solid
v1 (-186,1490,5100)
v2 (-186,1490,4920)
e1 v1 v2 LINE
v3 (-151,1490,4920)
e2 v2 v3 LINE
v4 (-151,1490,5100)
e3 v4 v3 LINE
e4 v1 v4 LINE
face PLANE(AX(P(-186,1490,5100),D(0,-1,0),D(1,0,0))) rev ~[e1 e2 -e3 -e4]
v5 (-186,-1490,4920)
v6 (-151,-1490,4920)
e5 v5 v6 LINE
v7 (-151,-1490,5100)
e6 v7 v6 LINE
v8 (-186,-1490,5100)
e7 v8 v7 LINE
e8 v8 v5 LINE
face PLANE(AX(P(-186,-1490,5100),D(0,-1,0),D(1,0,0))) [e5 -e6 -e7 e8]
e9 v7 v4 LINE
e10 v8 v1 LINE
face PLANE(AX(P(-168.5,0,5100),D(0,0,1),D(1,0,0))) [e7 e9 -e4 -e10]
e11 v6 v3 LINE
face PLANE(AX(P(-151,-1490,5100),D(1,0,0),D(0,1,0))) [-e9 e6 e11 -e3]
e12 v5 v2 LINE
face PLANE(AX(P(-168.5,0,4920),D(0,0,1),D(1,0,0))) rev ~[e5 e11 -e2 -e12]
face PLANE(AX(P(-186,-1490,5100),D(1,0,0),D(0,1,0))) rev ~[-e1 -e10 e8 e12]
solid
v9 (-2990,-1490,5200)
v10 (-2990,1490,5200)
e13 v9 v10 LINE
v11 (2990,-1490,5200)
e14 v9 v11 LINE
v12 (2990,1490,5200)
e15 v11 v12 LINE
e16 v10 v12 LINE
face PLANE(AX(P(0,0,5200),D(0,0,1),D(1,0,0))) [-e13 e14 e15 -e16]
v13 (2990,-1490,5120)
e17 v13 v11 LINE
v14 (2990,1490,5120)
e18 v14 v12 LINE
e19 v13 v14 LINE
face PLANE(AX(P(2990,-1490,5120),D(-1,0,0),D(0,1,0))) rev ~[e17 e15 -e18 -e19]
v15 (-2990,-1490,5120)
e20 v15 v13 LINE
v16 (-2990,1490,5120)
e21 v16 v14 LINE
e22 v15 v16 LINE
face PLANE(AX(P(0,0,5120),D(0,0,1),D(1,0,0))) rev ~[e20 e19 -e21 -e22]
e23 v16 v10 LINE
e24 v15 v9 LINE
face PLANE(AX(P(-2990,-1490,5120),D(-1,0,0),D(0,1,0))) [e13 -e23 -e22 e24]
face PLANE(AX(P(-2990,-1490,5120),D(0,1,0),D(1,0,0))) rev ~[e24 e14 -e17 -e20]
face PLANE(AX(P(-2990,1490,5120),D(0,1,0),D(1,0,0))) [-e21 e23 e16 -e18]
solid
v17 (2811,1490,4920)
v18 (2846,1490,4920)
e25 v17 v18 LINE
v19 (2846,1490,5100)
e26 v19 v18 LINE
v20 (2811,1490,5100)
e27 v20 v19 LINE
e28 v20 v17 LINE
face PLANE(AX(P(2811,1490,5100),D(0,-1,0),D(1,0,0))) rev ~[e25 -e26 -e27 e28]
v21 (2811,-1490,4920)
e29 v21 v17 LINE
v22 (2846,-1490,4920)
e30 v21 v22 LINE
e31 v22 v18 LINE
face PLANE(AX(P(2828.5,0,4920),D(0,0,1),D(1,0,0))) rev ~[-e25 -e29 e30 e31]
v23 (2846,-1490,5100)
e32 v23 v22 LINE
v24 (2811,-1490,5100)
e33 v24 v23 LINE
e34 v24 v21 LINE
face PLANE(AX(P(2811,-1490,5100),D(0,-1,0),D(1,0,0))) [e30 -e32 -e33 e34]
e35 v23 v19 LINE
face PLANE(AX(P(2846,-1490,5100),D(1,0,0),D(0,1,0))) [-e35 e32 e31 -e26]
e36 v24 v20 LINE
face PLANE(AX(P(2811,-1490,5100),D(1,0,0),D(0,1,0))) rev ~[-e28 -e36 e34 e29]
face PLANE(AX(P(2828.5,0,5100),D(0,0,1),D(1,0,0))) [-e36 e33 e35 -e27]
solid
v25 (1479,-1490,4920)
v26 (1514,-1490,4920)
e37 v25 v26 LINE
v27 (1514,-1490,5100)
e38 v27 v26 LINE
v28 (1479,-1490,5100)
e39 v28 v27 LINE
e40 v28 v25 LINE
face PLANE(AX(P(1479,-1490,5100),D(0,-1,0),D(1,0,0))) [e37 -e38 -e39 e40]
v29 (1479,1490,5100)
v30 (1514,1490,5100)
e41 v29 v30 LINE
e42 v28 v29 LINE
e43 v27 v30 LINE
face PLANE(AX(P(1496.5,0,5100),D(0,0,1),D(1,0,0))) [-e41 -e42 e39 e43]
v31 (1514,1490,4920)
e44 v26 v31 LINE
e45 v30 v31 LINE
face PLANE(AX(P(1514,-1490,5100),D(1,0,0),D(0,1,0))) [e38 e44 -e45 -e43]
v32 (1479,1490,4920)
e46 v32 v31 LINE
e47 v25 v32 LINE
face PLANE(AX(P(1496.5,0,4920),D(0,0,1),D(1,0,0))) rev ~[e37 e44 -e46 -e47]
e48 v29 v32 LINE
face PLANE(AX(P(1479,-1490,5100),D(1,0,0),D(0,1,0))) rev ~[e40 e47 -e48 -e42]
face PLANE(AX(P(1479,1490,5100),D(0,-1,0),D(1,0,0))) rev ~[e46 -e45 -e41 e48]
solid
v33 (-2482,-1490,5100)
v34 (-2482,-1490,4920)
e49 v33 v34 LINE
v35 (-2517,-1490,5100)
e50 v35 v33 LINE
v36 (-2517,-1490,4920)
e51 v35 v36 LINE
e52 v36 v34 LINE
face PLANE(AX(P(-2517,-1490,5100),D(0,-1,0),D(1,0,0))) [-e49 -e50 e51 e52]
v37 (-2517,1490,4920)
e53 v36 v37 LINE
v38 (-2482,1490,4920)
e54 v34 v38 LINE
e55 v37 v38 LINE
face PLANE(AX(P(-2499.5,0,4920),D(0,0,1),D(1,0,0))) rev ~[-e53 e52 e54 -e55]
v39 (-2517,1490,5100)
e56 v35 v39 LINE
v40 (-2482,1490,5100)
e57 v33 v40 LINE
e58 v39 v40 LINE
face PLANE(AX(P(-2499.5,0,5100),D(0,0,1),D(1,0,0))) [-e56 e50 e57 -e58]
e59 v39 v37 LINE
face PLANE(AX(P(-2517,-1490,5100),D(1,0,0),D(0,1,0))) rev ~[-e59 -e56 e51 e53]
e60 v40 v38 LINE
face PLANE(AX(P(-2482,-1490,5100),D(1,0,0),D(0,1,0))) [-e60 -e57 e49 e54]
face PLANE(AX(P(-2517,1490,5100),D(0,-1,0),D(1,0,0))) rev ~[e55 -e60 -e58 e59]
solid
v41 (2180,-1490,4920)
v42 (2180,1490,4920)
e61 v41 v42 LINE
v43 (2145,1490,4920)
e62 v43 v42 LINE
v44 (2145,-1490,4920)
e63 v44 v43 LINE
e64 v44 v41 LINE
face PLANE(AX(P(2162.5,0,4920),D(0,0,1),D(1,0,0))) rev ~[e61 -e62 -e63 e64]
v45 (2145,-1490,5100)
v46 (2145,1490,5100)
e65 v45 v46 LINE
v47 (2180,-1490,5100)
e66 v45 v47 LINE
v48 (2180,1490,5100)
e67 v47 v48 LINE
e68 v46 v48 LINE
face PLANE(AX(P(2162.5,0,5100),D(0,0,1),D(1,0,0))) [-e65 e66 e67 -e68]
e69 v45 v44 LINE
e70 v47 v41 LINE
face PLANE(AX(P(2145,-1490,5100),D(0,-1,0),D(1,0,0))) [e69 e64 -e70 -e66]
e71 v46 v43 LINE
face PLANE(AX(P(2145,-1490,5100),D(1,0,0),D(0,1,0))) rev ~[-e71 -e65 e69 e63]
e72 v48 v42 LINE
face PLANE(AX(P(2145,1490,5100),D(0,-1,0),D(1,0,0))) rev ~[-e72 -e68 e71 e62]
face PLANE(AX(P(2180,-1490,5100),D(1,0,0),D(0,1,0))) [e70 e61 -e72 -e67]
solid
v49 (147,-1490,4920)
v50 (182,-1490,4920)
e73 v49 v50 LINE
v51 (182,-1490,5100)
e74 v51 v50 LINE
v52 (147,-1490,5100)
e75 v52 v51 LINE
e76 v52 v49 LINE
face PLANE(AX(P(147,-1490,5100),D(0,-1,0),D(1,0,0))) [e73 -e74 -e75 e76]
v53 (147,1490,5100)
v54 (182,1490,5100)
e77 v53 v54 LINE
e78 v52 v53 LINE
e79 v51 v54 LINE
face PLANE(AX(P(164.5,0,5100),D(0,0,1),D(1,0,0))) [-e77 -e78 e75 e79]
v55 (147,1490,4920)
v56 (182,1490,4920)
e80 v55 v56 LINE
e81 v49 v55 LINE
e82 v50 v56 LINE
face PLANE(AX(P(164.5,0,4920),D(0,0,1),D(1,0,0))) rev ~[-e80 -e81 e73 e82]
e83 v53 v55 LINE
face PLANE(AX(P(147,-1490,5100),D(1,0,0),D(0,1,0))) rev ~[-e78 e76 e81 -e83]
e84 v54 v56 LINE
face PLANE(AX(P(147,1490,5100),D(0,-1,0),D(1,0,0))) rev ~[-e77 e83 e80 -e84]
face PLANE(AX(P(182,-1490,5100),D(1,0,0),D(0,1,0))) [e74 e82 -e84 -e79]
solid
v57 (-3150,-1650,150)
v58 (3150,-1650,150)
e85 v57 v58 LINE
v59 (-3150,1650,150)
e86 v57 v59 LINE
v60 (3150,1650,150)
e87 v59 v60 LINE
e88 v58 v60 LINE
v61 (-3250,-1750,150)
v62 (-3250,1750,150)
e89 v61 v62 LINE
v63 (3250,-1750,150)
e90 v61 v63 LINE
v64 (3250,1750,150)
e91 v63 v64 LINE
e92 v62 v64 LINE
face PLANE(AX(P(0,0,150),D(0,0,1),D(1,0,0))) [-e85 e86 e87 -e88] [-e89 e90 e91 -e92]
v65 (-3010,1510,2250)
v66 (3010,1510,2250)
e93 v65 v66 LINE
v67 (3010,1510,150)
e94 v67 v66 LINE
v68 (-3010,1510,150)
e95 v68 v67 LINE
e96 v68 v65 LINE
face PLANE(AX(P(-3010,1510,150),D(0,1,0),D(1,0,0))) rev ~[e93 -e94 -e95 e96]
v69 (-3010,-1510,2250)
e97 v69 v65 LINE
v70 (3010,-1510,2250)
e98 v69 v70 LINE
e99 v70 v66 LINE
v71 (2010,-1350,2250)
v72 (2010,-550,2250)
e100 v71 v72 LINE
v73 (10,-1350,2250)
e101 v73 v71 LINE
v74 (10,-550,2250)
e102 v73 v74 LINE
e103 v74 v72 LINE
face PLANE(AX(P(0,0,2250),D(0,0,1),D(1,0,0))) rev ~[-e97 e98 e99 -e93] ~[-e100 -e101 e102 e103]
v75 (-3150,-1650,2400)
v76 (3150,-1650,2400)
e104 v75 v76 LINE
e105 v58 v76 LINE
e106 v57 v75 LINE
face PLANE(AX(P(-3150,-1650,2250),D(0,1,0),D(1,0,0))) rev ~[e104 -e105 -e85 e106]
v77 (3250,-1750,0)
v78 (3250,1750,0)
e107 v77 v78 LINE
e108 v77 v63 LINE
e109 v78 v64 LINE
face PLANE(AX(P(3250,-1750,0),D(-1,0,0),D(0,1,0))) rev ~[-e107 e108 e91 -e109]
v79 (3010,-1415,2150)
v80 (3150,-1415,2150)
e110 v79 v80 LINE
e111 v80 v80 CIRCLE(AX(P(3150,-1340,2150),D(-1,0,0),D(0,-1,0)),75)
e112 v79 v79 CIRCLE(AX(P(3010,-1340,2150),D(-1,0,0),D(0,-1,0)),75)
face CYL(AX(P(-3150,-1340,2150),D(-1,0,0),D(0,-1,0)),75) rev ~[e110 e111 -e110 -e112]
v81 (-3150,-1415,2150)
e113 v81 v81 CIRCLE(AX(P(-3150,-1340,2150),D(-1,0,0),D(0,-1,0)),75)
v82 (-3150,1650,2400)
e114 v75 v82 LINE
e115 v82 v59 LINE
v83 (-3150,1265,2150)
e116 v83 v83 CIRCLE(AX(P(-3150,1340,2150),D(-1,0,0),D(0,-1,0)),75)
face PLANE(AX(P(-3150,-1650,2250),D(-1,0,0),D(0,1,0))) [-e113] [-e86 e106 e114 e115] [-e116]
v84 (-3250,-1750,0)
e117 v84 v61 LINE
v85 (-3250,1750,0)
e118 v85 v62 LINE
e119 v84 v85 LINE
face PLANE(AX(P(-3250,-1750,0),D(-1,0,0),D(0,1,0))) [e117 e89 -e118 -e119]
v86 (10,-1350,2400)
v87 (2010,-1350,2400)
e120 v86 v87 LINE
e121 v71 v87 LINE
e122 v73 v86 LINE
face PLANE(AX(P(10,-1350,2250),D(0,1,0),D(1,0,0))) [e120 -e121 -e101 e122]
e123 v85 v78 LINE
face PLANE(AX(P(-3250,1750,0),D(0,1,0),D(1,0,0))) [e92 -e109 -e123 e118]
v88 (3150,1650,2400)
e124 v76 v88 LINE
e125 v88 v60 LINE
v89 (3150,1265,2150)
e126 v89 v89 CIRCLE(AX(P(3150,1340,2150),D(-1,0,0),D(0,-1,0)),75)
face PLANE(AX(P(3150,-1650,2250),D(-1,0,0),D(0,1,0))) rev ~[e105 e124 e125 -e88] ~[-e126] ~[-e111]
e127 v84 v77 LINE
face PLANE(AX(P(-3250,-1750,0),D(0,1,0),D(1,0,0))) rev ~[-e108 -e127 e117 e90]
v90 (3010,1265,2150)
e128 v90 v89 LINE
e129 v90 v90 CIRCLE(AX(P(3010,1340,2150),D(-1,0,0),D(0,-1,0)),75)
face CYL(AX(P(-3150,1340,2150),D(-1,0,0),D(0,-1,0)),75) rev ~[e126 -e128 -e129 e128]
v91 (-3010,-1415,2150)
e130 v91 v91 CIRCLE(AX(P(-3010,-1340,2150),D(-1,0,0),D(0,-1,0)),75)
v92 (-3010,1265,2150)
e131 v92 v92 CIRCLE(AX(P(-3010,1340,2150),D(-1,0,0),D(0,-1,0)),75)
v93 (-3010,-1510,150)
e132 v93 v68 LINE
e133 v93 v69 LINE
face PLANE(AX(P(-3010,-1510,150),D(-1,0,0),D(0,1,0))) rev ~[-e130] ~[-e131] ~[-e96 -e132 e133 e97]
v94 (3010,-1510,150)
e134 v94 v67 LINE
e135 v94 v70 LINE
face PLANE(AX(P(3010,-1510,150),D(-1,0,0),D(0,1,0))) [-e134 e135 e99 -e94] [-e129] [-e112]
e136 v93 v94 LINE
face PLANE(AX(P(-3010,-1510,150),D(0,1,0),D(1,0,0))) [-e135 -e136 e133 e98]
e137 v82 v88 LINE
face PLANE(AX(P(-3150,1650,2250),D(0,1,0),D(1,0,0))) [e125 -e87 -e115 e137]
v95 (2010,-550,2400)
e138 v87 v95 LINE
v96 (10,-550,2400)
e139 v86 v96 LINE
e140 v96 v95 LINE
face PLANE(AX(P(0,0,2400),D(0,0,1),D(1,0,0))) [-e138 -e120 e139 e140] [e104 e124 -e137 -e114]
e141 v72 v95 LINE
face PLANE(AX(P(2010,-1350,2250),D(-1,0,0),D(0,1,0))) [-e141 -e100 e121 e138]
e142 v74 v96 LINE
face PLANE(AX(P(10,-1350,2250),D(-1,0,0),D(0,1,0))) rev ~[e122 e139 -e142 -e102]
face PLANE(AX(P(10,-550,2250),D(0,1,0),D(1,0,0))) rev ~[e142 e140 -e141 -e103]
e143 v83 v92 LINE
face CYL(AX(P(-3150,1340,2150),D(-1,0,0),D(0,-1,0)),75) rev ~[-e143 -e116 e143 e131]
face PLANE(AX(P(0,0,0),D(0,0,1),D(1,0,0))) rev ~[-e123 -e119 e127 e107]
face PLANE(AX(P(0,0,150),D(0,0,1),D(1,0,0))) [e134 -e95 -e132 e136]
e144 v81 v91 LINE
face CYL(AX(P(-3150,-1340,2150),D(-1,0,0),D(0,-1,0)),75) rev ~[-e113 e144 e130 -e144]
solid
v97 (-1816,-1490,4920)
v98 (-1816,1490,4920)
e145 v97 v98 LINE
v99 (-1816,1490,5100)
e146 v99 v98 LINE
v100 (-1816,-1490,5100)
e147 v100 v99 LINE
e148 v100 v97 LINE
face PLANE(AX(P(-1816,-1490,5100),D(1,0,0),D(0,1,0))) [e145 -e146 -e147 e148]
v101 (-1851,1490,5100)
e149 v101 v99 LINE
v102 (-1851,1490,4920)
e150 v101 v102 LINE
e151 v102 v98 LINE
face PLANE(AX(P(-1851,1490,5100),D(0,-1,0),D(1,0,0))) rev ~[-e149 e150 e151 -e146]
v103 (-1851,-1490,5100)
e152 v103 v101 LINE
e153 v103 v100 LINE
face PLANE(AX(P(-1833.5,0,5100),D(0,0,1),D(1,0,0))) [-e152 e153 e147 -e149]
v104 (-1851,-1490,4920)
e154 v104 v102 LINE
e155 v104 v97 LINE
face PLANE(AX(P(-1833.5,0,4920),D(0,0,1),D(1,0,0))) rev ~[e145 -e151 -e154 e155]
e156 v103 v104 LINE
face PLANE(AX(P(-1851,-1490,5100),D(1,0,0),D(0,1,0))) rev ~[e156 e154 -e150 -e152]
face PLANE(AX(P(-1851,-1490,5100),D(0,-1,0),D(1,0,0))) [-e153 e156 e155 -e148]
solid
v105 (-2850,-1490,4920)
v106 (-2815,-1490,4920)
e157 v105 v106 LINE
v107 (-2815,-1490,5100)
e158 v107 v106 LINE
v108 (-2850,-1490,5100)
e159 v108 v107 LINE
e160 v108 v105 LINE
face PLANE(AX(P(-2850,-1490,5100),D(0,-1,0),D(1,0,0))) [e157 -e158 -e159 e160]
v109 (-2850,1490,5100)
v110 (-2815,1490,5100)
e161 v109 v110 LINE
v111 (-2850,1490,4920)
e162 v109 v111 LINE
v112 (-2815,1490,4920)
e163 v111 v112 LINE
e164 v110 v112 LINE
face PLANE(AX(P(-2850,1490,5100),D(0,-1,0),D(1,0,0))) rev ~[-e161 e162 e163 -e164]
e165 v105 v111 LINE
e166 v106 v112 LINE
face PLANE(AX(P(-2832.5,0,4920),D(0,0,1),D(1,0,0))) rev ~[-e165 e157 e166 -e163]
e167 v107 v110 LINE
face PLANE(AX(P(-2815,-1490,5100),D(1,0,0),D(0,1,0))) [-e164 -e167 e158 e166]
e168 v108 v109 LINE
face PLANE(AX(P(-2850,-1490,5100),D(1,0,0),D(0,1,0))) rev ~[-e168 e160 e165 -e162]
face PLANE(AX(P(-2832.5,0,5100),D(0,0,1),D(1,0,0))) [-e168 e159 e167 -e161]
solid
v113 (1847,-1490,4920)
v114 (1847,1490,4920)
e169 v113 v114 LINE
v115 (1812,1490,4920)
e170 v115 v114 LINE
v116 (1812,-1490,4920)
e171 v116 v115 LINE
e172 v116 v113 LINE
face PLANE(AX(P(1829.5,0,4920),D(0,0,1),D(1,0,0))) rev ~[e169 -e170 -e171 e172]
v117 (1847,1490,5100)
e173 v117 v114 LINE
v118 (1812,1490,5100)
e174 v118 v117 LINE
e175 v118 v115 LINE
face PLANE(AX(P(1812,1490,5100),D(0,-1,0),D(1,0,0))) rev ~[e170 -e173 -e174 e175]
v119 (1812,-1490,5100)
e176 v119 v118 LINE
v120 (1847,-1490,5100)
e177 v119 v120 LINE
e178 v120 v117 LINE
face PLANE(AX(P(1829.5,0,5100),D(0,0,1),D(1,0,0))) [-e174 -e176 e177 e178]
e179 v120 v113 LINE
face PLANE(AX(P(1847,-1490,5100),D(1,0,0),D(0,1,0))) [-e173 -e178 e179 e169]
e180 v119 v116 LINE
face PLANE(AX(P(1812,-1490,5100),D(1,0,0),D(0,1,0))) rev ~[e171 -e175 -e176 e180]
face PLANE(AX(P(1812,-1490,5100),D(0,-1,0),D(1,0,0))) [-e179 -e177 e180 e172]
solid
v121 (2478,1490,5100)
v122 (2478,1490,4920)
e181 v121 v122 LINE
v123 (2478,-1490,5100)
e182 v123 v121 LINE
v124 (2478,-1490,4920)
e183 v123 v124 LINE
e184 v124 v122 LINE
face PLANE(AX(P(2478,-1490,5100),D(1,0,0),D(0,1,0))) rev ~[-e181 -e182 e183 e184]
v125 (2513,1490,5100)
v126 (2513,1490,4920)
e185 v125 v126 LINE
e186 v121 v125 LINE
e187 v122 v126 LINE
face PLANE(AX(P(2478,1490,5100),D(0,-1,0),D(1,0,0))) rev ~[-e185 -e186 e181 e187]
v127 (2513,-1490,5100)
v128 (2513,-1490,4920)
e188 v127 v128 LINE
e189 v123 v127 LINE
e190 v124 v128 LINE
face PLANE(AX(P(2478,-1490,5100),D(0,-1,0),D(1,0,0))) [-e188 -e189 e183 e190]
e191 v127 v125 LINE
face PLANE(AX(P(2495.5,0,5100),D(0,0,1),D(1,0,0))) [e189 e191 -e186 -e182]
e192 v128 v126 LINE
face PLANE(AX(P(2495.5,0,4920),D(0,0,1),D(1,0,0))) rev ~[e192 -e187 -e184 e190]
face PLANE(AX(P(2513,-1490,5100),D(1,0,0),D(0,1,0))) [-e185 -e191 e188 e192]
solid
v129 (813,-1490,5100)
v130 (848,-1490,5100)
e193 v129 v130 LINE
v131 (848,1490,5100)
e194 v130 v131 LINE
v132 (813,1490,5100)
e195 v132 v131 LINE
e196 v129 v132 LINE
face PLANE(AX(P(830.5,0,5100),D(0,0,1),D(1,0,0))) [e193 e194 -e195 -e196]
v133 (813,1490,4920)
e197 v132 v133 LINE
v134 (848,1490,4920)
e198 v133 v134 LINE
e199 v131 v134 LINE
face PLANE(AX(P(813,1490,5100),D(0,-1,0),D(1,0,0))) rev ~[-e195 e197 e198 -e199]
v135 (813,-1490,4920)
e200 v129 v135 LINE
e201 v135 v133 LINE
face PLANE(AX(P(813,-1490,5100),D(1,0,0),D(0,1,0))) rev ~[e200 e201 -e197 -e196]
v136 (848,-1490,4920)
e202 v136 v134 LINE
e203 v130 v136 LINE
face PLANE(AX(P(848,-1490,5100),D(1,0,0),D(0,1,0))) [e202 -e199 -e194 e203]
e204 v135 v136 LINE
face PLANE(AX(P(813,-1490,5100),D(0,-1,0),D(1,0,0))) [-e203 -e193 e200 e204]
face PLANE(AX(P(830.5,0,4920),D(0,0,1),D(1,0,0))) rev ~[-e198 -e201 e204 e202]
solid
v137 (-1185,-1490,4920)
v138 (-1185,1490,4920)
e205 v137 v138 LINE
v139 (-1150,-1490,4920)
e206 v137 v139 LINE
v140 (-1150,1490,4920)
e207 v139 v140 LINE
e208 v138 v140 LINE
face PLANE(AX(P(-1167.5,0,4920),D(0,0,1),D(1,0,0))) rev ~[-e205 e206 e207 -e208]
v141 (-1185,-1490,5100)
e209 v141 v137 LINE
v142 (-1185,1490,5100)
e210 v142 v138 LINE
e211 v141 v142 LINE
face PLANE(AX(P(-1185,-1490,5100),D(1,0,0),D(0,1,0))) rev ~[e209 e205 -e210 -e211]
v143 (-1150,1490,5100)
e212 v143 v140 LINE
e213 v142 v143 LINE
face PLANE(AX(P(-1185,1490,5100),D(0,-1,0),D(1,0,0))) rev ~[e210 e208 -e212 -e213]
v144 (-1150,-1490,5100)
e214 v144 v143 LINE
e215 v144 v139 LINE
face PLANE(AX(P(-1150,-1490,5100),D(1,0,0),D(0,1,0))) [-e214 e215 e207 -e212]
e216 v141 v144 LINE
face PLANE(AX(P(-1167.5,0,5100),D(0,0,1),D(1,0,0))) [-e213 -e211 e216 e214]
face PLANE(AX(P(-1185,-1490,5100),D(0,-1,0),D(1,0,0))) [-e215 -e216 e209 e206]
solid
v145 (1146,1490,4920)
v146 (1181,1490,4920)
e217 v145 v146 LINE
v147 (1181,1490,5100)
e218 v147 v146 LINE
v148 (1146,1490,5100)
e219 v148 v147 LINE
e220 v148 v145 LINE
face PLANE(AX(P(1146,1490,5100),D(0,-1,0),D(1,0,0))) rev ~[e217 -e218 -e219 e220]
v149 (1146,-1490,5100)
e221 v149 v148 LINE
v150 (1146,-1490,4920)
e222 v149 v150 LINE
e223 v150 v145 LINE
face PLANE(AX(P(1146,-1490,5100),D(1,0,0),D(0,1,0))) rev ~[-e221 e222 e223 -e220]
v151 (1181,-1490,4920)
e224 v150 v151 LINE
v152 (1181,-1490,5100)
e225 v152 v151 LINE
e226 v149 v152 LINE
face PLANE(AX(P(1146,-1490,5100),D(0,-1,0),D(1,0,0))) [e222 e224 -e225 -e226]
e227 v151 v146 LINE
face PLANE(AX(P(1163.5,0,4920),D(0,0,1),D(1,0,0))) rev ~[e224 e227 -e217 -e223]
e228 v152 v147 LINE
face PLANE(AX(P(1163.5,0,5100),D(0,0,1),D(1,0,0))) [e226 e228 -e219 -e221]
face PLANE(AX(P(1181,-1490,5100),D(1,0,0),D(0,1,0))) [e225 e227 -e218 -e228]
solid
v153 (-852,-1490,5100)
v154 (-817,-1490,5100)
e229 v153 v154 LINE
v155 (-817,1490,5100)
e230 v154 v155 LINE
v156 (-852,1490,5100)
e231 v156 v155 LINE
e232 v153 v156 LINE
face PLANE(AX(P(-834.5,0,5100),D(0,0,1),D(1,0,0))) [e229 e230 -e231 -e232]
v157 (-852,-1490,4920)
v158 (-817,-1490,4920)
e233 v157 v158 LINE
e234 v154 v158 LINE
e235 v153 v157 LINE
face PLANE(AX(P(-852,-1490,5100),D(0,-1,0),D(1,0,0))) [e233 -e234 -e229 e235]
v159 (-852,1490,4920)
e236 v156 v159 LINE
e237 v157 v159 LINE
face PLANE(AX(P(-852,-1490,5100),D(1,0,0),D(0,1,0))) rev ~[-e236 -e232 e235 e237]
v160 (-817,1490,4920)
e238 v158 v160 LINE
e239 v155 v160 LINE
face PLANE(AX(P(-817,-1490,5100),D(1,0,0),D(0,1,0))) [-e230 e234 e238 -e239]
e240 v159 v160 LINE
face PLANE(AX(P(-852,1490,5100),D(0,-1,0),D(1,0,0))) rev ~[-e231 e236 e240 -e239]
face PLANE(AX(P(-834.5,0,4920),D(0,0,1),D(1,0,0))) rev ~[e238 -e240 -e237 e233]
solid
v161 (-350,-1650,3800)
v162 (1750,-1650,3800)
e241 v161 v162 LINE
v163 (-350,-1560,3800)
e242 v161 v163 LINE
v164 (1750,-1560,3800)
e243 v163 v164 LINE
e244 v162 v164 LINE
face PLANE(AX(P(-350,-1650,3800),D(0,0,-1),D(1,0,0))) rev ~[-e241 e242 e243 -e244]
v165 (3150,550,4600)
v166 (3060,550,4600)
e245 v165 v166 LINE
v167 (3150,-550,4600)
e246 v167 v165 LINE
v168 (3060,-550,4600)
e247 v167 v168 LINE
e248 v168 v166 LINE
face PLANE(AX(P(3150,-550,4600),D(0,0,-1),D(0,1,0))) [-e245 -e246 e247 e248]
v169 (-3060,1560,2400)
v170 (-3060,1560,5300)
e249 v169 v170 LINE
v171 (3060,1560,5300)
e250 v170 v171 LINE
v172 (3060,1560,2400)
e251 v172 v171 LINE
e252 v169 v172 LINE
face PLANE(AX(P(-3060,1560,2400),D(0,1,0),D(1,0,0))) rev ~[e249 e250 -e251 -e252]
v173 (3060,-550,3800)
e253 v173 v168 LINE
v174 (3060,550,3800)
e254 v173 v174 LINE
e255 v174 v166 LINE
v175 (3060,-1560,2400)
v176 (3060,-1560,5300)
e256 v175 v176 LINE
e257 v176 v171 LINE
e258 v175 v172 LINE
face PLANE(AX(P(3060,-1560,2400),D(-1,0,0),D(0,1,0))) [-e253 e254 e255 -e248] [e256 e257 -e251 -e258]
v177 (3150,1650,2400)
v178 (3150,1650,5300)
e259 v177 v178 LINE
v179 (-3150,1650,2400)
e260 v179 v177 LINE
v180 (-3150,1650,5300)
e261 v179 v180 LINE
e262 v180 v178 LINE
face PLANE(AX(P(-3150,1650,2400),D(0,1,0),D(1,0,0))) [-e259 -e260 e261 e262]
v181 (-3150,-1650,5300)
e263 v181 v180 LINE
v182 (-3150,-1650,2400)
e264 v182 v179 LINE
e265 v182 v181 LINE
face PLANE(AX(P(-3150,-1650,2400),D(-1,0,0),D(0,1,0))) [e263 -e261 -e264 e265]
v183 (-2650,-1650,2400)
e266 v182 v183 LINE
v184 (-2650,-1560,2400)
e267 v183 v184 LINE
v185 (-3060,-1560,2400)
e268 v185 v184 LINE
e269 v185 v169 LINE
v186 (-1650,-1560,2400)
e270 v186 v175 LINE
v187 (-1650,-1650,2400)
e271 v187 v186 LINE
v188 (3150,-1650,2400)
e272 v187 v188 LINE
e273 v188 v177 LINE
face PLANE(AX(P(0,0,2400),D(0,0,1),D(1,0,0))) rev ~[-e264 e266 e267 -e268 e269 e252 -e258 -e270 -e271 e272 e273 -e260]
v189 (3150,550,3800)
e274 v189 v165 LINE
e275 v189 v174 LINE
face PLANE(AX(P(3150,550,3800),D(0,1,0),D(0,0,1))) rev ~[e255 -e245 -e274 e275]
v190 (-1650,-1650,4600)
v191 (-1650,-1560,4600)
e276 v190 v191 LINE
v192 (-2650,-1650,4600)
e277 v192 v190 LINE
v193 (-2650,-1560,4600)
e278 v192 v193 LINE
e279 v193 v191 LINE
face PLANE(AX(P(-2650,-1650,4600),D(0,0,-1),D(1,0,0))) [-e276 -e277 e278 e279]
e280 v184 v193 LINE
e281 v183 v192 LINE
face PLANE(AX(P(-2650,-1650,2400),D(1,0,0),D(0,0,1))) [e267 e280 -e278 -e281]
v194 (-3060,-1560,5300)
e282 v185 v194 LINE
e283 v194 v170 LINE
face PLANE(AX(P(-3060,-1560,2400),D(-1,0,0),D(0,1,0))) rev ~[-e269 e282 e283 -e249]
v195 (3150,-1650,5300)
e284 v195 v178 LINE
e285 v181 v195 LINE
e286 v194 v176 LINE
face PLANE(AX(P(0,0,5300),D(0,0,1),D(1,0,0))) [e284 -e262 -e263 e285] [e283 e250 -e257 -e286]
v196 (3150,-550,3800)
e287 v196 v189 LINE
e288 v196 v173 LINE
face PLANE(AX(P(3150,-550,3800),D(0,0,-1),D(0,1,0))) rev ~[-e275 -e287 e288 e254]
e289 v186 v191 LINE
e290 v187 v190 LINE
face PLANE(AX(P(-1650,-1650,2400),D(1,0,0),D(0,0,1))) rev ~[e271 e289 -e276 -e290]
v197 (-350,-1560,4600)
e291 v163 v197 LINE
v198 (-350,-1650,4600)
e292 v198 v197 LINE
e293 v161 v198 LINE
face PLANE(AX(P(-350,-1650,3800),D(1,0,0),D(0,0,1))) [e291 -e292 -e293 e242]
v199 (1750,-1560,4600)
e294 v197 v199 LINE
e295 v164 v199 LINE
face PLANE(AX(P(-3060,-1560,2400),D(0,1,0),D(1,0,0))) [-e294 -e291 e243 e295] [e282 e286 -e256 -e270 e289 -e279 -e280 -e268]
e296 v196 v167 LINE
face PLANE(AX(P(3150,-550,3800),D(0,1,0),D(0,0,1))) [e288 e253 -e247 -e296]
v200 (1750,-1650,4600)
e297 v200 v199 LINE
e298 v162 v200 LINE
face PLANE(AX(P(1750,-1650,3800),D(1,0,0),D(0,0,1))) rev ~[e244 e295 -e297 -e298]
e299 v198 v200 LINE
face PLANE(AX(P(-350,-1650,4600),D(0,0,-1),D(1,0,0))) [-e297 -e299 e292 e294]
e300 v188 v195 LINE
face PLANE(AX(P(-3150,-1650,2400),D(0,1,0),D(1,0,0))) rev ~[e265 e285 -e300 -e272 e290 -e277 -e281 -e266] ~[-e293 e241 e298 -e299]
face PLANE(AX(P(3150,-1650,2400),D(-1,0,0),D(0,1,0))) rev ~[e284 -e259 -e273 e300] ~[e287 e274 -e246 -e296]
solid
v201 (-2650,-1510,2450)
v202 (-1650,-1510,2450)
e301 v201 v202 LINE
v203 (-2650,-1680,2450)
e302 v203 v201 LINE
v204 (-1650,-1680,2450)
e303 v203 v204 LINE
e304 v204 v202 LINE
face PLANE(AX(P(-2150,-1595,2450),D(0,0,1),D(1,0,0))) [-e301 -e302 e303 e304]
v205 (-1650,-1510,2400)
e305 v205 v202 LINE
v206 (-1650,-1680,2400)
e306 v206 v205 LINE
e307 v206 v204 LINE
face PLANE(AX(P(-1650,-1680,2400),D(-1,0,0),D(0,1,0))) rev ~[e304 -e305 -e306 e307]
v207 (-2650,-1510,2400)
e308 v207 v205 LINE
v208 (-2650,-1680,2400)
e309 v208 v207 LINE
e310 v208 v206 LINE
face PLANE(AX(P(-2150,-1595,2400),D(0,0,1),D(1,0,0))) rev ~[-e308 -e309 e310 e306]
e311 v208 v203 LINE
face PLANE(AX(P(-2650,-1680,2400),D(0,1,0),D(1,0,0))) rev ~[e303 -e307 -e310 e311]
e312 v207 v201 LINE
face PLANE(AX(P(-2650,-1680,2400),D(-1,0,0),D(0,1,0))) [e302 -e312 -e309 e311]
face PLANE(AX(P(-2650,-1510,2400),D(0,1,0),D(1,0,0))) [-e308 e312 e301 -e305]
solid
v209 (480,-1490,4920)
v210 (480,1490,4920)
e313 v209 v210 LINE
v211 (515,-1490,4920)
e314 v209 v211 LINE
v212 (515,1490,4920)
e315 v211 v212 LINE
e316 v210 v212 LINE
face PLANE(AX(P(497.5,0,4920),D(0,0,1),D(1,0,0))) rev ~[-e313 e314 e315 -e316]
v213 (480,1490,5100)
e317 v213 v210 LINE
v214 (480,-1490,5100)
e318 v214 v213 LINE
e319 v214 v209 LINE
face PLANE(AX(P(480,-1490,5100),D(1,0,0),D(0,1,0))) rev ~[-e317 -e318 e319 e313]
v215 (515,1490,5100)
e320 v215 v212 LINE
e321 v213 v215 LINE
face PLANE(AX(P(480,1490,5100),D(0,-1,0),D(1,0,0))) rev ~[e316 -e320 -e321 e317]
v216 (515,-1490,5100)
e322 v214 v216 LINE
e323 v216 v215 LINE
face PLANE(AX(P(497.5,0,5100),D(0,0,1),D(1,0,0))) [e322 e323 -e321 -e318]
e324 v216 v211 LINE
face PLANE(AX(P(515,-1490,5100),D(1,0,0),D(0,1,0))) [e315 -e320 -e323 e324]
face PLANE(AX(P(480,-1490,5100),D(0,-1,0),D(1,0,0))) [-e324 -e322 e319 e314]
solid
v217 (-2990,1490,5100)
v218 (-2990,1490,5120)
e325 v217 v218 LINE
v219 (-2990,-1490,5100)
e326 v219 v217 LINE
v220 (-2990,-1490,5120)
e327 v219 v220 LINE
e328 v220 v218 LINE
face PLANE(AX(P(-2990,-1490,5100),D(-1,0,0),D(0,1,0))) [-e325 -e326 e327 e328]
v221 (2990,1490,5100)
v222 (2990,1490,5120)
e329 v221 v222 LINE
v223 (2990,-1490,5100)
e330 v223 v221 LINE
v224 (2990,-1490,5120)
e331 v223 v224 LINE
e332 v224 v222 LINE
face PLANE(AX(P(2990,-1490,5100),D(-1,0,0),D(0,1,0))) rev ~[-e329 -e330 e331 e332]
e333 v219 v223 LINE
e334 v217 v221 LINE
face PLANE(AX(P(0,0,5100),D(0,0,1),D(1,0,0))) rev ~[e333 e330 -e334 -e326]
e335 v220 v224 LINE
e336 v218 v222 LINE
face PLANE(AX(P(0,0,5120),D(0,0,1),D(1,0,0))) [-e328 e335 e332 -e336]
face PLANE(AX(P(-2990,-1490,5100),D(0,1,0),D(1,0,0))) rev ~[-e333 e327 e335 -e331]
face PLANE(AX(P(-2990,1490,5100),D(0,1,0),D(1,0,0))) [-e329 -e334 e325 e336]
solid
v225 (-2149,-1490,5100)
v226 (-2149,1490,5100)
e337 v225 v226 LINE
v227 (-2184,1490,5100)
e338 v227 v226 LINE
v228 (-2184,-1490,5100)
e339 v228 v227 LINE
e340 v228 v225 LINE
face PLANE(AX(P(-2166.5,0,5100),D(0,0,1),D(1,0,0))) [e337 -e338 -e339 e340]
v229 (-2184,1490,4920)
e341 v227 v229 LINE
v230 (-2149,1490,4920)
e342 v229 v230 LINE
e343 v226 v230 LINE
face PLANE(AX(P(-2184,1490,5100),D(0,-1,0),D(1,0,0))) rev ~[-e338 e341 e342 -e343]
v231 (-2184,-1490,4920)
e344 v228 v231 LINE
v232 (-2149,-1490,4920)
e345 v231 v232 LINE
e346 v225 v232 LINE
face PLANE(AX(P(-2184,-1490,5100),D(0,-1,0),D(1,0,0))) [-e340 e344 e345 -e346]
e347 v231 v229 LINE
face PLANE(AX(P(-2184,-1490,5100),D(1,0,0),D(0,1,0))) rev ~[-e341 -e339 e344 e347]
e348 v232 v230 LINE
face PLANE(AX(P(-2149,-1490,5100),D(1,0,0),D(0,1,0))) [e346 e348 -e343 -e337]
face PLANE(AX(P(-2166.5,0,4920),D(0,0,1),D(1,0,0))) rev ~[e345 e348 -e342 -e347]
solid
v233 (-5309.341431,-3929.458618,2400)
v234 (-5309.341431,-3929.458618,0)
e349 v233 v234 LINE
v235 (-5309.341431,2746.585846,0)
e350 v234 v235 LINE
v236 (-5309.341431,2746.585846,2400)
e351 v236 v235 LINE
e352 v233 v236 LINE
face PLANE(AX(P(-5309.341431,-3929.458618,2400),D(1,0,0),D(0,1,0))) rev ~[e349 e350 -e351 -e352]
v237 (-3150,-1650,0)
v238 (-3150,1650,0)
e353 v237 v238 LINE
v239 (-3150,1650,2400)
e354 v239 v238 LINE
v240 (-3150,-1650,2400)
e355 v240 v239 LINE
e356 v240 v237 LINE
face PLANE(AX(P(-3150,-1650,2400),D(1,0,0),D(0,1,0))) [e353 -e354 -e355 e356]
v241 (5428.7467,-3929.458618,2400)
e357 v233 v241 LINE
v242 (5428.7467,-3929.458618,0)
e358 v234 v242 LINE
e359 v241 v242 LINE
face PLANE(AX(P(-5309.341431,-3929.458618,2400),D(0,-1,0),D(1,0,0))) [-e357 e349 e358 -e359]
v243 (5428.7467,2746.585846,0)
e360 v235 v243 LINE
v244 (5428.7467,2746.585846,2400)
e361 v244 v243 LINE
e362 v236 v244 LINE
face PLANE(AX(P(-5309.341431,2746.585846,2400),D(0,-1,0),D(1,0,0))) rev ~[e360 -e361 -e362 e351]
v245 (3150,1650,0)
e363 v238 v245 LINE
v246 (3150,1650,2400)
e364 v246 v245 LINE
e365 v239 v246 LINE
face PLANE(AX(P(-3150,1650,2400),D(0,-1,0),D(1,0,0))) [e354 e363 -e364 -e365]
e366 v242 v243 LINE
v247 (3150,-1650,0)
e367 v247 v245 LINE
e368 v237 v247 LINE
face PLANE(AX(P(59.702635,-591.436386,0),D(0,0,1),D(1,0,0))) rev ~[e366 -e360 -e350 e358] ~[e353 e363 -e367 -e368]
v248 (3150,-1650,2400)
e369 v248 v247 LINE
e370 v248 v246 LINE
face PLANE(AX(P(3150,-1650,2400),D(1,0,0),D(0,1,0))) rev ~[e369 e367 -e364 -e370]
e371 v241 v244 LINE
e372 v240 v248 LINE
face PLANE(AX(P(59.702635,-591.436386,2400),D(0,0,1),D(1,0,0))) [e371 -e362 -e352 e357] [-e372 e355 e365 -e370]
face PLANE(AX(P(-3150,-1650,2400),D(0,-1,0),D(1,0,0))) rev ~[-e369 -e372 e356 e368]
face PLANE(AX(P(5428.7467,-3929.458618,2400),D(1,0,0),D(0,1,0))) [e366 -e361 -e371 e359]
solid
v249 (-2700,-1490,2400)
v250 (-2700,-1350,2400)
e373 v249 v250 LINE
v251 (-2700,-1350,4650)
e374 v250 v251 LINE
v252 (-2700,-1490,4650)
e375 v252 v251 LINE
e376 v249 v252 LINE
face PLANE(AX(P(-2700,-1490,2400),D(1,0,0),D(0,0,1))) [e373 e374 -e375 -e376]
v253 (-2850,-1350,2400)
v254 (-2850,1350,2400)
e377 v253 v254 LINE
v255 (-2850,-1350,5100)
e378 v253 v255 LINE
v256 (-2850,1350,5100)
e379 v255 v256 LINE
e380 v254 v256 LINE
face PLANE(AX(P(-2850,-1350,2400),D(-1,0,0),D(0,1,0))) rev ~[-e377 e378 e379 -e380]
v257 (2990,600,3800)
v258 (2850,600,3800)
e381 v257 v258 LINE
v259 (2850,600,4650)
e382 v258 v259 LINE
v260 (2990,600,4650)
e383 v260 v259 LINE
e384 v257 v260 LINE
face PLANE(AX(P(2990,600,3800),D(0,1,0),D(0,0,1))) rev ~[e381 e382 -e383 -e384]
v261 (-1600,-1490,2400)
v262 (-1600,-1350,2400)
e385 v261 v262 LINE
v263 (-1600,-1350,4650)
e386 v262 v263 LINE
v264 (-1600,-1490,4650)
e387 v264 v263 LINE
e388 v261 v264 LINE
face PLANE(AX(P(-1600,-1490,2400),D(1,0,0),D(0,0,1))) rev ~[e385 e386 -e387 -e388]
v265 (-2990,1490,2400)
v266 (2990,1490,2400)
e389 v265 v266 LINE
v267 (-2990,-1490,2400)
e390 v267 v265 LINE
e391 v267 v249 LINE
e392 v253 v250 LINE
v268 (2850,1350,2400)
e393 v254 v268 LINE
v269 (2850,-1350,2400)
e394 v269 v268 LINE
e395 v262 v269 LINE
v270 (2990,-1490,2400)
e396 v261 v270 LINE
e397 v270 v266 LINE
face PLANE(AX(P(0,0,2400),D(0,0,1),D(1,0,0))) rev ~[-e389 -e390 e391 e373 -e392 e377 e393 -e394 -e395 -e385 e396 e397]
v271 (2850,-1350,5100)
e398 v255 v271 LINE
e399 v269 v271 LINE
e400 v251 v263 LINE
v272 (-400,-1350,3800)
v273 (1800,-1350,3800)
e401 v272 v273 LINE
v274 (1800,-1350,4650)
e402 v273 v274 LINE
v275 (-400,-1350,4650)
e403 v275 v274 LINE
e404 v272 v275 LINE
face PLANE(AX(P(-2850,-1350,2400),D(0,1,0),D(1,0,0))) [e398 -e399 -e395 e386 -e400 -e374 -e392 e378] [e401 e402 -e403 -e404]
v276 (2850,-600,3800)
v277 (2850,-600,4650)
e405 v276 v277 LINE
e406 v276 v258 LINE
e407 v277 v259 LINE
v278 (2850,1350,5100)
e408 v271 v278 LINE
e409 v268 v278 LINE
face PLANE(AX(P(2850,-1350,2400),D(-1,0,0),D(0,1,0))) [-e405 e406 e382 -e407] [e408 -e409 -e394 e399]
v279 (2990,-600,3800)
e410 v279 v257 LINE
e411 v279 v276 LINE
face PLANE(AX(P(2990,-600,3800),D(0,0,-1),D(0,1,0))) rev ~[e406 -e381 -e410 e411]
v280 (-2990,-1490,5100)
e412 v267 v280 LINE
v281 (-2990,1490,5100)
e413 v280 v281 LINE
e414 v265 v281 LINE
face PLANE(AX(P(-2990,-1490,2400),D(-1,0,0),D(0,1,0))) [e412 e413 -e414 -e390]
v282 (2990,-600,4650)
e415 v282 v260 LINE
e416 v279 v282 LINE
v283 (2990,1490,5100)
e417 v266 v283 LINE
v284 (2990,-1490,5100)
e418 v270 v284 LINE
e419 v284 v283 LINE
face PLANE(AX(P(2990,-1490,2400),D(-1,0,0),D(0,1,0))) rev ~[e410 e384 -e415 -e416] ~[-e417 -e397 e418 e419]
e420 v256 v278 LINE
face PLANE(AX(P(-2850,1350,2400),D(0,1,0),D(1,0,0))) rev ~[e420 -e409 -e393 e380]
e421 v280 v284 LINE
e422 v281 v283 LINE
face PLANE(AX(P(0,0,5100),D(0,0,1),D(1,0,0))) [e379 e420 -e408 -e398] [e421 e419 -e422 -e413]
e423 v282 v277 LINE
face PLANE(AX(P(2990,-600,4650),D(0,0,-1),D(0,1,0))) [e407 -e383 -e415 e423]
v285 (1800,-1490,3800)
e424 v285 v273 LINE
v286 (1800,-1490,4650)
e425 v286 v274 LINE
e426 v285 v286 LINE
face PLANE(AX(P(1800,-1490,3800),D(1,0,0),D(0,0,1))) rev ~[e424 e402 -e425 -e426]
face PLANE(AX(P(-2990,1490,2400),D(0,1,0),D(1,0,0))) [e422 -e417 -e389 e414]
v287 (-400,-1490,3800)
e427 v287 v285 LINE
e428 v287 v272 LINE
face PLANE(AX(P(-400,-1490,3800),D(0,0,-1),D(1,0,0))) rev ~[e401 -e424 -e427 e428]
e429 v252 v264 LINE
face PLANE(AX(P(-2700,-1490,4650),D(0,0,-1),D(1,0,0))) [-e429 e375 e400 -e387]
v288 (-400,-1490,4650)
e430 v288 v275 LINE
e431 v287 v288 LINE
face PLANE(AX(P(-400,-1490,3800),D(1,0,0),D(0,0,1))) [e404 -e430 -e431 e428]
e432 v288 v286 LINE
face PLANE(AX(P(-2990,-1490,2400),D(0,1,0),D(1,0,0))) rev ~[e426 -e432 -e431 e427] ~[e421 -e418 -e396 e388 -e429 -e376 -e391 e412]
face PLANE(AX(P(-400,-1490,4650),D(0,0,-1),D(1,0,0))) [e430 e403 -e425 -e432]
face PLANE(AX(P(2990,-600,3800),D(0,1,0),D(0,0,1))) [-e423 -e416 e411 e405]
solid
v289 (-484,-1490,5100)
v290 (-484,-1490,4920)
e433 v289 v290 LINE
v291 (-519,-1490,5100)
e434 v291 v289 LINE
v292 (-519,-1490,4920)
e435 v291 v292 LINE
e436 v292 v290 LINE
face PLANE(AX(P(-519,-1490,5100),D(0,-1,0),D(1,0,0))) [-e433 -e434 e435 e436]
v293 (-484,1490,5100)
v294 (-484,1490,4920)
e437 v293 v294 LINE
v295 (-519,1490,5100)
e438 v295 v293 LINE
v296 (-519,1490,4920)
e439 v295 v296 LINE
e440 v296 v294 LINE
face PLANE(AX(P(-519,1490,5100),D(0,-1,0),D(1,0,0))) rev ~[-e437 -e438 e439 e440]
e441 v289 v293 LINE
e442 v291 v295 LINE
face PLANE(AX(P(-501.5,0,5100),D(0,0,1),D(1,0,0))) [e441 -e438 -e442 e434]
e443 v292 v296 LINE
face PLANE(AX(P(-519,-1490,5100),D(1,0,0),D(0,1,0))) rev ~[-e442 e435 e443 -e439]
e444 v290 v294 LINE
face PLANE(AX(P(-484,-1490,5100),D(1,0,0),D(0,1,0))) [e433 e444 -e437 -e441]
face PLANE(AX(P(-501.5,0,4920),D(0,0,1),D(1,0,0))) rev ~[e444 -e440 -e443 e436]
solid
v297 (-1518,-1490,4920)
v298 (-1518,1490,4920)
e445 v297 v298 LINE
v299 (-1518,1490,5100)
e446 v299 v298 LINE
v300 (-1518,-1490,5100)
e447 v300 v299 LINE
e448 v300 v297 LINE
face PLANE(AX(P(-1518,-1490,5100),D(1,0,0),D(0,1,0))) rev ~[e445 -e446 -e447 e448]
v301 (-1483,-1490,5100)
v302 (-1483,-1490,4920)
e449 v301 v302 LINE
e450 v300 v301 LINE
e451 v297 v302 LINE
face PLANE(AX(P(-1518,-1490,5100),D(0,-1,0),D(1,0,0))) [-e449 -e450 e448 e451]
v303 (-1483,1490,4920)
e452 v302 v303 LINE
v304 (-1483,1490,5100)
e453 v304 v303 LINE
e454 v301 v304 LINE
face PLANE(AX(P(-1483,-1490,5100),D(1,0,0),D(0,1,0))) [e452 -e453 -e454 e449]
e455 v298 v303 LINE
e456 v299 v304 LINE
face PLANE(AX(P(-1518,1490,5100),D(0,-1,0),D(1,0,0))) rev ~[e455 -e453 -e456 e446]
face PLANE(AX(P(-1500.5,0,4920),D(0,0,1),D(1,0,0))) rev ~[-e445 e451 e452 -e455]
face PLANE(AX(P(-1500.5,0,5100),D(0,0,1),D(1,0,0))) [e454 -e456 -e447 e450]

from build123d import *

# Parameters (mm, degrees)
F0_W      = 6500
F0_H      = 3500
F1_DEPTH  = 150
F2_W      = 6300
F2_H      = 3300
F2_W_2    = 6020
F2_H_2    = 3020
F3_DEPTH  = 2100
F4_W      = 6300
F4_H      = 3300
F4_W_2    = 2000
F4_H_2    = 800
F5_DEPTH  = 150
F6_R      = 75
F7_DEPTH  = 6400.001
F8_W      = 6300
F8_H      = 3300
F8_W_2    = 6120
F8_H_2    = 3120
F9_DEPTH  = 2900
F10_W     = 5980
F10_H     = 2980
F10_W_2   = 5700
F10_H_2   = 2700
F11_DEPTH = 2700
F12_W     = 1000
F12_H     = 2200
F12_W_2   = 2100
F12_H_2   = 800
F13_DEPTH = 90
F14_W     = 1100
F14_H     = 2250
F14_W_2   = 2200
F14_H_2   = 850
F15_DEPTH = 140
F16_W     = 1100
F16_H     = 800
F17_DEPTH = 90
F18_W     = 1200
F18_H     = 850
F19_DEPTH = 140
F20_W     = 35
F20_H     = 2980
F21_DEPTH = 180
F22_W     = 5980
F22_H     = 2980
F23_DEPTH = 20
F24_W     = 5980
F24_H     = 2980
F25_DEPTH = 80
F26_W     = 1000
F26_H     = 170
F27_DEPTH = 50
F28_W     = 10738.0881309509
F28_H     = 6676.0444641113
F28_W_2   = 6300
F28_H_2   = 3300
F29_DEPTH = 2400


with BuildPart() as f1:
    # F0 (on Top) → F1 (new body)
    with BuildSketch(Plane.XY):
        Rectangle(F0_W, F0_H)
    extrude(amount=F1_DEPTH)

    # F2 (on face) → F3 (join)
    with BuildSketch(Plane.XY.offset(150)):
        Rectangle(F2_W, F2_H)
        Rectangle(F2_W_2, F2_H_2, mode=Mode.SUBTRACT)
    extrude(amount=F3_DEPTH)

    # F4 (on face) → F5 (join)
    with BuildSketch(Plane.XY.offset(2250)):
        Rectangle(F4_W, F4_H)
        with Locations((1010, -950)):
            Rectangle(F4_W_2, F4_H_2, mode=Mode.SUBTRACT)
    extrude(amount=F5_DEPTH)

    # F6 (on face) → F7 (cut, through all)
    with BuildSketch(Plane(origin=(-3150, 0, 0), x_dir=(0, -1, 0), z_dir=(-1, 0, 0))):
        with Locations((-1340, 2150)):
            Circle(F6_R)
        with Locations((1340, 2150)):
            Circle(F6_R)
    extrude(amount=-F7_DEPTH, mode=Mode.SUBTRACT)


with BuildPart() as f9:
    # F8 (on face) → F9 (new body)
    with BuildSketch(Plane.XY.offset(2400)):
        Rectangle(F8_W, F8_H)
        Rectangle(F8_W_2, F8_H_2, mode=Mode.SUBTRACT)
    extrude(amount=F9_DEPTH)

    # F12 (on face) → F13 (cut, through all)
    with BuildSketch(Plane.XZ.offset(1650)):
        with Locations((-2150, 3500)):
            Rectangle(F12_W, F12_H)
        with Locations((700, 4200)):
            Rectangle(F12_W_2, F12_H_2)
    extrude(amount=-F13_DEPTH, mode=Mode.SUBTRACT)

    # F16 (on face) → F17 (cut, through all)
    with BuildSketch(Plane.YZ.offset(3150)):
        with Locations((0, 4200)):
            Rectangle(F16_W, F16_H)
    extrude(amount=-F17_DEPTH, mode=Mode.SUBTRACT)


with BuildPart() as f11:
    # F10 (on face) → F11 (new body)
    with BuildSketch(Plane.XY.offset(2400)):
        Rectangle(F10_W, F10_H)
        Rectangle(F10_W_2, F10_H_2, mode=Mode.SUBTRACT)
    extrude(amount=F11_DEPTH)

    # F14 (on face) → F15 (cut, through all)
    with BuildSketch(Plane.XZ.offset(1490)):
        with Locations((-2150, 3525)):
            Rectangle(F14_W, F14_H)
        with Locations((700, 4225)):
            Rectangle(F14_W_2, F14_H_2)
    extrude(amount=-F15_DEPTH, mode=Mode.SUBTRACT)

    # F18 (on face) → F19 (cut, through all)
    with BuildSketch(Plane.YZ.offset(2990)):
        with Locations((0, 4225)):
            Rectangle(F18_W, F18_H)
    extrude(amount=-F19_DEPTH, mode=Mode.SUBTRACT)


with BuildPart() as f21:
    # F20 (on face) → F21 (new body)
    with BuildSketch(Plane.XY.offset(5100)):
        with Locations((-2832.5, 0)):
            Rectangle(F20_W, F20_H)
    extrude(amount=-F21_DEPTH)


with BuildPart() as f21b:
    # F20 (on face) → F21, piece 2 (new body)
    with BuildSketch(Plane.XY.offset(5100)):
        with Locations((-2499.5, 0)):
            Rectangle(F20_W, F20_H)
    extrude(amount=-F21_DEPTH)


with BuildPart() as f21c:
    # F20 (on face) → F21, piece 3 (new body)
    with BuildSketch(Plane.XY.offset(5100)):
        with Locations((-2166.5, 0)):
            Rectangle(F20_W, F20_H)
    extrude(amount=-F21_DEPTH)


with BuildPart() as f21d:
    # F20 (on face) → F21, piece 4 (new body)
    with BuildSketch(Plane.XY.offset(5100)):
        with Locations((-1833.5, 0)):
            Rectangle(F20_W, F20_H)
    extrude(amount=-F21_DEPTH)


with BuildPart() as f21e:
    # F20 (on face) → F21, piece 5 (new body)
    with BuildSketch(Plane.XY.offset(5100)):
        with Locations((-1500.5, 0)):
            Rectangle(F20_W, F20_H)
    extrude(amount=-F21_DEPTH)


with BuildPart() as f21f:
    # F20 (on face) → F21, piece 6 (new body)
    with BuildSketch(Plane.XY.offset(5100)):
        with Locations((-1167.5, 0)):
            Rectangle(F20_W, F20_H)
    extrude(amount=-F21_DEPTH)


with BuildPart() as f21g:
    # F20 (on face) → F21, piece 7 (new body)
    with BuildSketch(Plane.XY.offset(5100)):
        with Locations((-834.5, 0)):
            Rectangle(F20_W, F20_H)
    extrude(amount=-F21_DEPTH)


with BuildPart() as f21h:
    # F20 (on face) → F21, piece 8 (new body)
    with BuildSketch(Plane.XY.offset(5100)):
        with Locations((-501.5, 0)):
            Rectangle(F20_W, F20_H)
    extrude(amount=-F21_DEPTH)


with BuildPart() as f21i:
    # F20 (on face) → F21, piece 9 (new body)
    with BuildSketch(Plane.XY.offset(5100)):
        with Locations((-168.5, 0)):
            Rectangle(F20_W, F20_H)
    extrude(amount=-F21_DEPTH)


with BuildPart() as f21j:
    # F20 (on face) → F21, piece 10 (new body)
    with BuildSketch(Plane.XY.offset(5100)):
        with Locations((164.5, 0)):
            Rectangle(F20_W, F20_H)
    extrude(amount=-F21_DEPTH)


with BuildPart() as f21k:
    # F20 (on face) → F21, piece 11 (new body)
    with BuildSketch(Plane.XY.offset(5100)):
        with Locations((497.5, 0)):
            Rectangle(F20_W, F20_H)
    extrude(amount=-F21_DEPTH)


with BuildPart() as f21l:
    # F20 (on face) → F21, piece 12 (new body)
    with BuildSketch(Plane.XY.offset(5100)):
        with Locations((830.5, 0)):
            Rectangle(F20_W, F20_H)
    extrude(amount=-F21_DEPTH)


with BuildPart() as f21m:
    # F20 (on face) → F21, piece 13 (new body)
    with BuildSketch(Plane.XY.offset(5100)):
        with Locations((1163.5, 0)):
            Rectangle(F20_W, F20_H)
    extrude(amount=-F21_DEPTH)


with BuildPart() as f21n:
    # F20 (on face) → F21, piece 14 (new body)
    with BuildSketch(Plane.XY.offset(5100)):
        with Locations((1496.5, 0)):
            Rectangle(F20_W, F20_H)
    extrude(amount=-F21_DEPTH)


with BuildPart() as f21o:
    # F20 (on face) → F21, piece 15 (new body)
    with BuildSketch(Plane.XY.offset(5100)):
        with Locations((1829.5, 0)):
            Rectangle(F20_W, F20_H)
    extrude(amount=-F21_DEPTH)


with BuildPart() as f21p:
    # F20 (on face) → F21, piece 16 (new body)
    with BuildSketch(Plane.XY.offset(5100)):
        with Locations((2162.5, 0)):
            Rectangle(F20_W, F20_H)
    extrude(amount=-F21_DEPTH)


with BuildPart() as f21q:
    # F20 (on face) → F21, piece 17 (new body)
    with BuildSketch(Plane.XY.offset(5100)):
        with Locations((2495.5, 0)):
            Rectangle(F20_W, F20_H)
    extrude(amount=-F21_DEPTH)


with BuildPart() as f21r:
    # F20 (on face) → F21, piece 18 (new body)
    with BuildSketch(Plane.XY.offset(5100)):
        with Locations((2828.5, 0)):
            Rectangle(F20_W, F20_H)
    extrude(amount=-F21_DEPTH)


with BuildPart() as f23:
    # F22 (on face) → F23 (new body)
    with BuildSketch(Plane.XY.offset(5100)):
        Rectangle(F22_W, F22_H)
    extrude(amount=F23_DEPTH)


with BuildPart() as f25:
    # F24 (on face) → F25 (new body)
    with BuildSketch(Plane.XY.offset(5120)):
        Rectangle(F24_W, F24_H)
    extrude(amount=F25_DEPTH)


with BuildPart() as f27:
    # F26 (on face) → F27 (new body)
    with BuildSketch(Plane.XY.offset(2400)):
        with Locations((-2150, -1595)):
            Rectangle(F26_W, F26_H)
    extrude(amount=F27_DEPTH)


with BuildPart() as f29:
    # F28 (on face) → F29 (new body)
    with BuildSketch(Plane.XY.offset(2400)):
        with Locations((59.7026348114, -591.4363861084)):
            Rectangle(F28_W, F28_H)
        Rectangle(F28_W_2, F28_H_2, mode=Mode.SUBTRACT)
    extrude(amount=-F29_DEPTH)


solid = Compound([f1.part, f9.part, f11.part, f21.part, f21b.part, f21c.part, f21d.part, f21e.part, f21f.part, f21g.part, f21h.part, f21i.part, f21j.part, f21k.part, f21l.part, f21m.part, f21n.part, f21o.part, f21p.part, f21q.part, f21r.part, f23.part, f25.part, f27.part, f29.part])
